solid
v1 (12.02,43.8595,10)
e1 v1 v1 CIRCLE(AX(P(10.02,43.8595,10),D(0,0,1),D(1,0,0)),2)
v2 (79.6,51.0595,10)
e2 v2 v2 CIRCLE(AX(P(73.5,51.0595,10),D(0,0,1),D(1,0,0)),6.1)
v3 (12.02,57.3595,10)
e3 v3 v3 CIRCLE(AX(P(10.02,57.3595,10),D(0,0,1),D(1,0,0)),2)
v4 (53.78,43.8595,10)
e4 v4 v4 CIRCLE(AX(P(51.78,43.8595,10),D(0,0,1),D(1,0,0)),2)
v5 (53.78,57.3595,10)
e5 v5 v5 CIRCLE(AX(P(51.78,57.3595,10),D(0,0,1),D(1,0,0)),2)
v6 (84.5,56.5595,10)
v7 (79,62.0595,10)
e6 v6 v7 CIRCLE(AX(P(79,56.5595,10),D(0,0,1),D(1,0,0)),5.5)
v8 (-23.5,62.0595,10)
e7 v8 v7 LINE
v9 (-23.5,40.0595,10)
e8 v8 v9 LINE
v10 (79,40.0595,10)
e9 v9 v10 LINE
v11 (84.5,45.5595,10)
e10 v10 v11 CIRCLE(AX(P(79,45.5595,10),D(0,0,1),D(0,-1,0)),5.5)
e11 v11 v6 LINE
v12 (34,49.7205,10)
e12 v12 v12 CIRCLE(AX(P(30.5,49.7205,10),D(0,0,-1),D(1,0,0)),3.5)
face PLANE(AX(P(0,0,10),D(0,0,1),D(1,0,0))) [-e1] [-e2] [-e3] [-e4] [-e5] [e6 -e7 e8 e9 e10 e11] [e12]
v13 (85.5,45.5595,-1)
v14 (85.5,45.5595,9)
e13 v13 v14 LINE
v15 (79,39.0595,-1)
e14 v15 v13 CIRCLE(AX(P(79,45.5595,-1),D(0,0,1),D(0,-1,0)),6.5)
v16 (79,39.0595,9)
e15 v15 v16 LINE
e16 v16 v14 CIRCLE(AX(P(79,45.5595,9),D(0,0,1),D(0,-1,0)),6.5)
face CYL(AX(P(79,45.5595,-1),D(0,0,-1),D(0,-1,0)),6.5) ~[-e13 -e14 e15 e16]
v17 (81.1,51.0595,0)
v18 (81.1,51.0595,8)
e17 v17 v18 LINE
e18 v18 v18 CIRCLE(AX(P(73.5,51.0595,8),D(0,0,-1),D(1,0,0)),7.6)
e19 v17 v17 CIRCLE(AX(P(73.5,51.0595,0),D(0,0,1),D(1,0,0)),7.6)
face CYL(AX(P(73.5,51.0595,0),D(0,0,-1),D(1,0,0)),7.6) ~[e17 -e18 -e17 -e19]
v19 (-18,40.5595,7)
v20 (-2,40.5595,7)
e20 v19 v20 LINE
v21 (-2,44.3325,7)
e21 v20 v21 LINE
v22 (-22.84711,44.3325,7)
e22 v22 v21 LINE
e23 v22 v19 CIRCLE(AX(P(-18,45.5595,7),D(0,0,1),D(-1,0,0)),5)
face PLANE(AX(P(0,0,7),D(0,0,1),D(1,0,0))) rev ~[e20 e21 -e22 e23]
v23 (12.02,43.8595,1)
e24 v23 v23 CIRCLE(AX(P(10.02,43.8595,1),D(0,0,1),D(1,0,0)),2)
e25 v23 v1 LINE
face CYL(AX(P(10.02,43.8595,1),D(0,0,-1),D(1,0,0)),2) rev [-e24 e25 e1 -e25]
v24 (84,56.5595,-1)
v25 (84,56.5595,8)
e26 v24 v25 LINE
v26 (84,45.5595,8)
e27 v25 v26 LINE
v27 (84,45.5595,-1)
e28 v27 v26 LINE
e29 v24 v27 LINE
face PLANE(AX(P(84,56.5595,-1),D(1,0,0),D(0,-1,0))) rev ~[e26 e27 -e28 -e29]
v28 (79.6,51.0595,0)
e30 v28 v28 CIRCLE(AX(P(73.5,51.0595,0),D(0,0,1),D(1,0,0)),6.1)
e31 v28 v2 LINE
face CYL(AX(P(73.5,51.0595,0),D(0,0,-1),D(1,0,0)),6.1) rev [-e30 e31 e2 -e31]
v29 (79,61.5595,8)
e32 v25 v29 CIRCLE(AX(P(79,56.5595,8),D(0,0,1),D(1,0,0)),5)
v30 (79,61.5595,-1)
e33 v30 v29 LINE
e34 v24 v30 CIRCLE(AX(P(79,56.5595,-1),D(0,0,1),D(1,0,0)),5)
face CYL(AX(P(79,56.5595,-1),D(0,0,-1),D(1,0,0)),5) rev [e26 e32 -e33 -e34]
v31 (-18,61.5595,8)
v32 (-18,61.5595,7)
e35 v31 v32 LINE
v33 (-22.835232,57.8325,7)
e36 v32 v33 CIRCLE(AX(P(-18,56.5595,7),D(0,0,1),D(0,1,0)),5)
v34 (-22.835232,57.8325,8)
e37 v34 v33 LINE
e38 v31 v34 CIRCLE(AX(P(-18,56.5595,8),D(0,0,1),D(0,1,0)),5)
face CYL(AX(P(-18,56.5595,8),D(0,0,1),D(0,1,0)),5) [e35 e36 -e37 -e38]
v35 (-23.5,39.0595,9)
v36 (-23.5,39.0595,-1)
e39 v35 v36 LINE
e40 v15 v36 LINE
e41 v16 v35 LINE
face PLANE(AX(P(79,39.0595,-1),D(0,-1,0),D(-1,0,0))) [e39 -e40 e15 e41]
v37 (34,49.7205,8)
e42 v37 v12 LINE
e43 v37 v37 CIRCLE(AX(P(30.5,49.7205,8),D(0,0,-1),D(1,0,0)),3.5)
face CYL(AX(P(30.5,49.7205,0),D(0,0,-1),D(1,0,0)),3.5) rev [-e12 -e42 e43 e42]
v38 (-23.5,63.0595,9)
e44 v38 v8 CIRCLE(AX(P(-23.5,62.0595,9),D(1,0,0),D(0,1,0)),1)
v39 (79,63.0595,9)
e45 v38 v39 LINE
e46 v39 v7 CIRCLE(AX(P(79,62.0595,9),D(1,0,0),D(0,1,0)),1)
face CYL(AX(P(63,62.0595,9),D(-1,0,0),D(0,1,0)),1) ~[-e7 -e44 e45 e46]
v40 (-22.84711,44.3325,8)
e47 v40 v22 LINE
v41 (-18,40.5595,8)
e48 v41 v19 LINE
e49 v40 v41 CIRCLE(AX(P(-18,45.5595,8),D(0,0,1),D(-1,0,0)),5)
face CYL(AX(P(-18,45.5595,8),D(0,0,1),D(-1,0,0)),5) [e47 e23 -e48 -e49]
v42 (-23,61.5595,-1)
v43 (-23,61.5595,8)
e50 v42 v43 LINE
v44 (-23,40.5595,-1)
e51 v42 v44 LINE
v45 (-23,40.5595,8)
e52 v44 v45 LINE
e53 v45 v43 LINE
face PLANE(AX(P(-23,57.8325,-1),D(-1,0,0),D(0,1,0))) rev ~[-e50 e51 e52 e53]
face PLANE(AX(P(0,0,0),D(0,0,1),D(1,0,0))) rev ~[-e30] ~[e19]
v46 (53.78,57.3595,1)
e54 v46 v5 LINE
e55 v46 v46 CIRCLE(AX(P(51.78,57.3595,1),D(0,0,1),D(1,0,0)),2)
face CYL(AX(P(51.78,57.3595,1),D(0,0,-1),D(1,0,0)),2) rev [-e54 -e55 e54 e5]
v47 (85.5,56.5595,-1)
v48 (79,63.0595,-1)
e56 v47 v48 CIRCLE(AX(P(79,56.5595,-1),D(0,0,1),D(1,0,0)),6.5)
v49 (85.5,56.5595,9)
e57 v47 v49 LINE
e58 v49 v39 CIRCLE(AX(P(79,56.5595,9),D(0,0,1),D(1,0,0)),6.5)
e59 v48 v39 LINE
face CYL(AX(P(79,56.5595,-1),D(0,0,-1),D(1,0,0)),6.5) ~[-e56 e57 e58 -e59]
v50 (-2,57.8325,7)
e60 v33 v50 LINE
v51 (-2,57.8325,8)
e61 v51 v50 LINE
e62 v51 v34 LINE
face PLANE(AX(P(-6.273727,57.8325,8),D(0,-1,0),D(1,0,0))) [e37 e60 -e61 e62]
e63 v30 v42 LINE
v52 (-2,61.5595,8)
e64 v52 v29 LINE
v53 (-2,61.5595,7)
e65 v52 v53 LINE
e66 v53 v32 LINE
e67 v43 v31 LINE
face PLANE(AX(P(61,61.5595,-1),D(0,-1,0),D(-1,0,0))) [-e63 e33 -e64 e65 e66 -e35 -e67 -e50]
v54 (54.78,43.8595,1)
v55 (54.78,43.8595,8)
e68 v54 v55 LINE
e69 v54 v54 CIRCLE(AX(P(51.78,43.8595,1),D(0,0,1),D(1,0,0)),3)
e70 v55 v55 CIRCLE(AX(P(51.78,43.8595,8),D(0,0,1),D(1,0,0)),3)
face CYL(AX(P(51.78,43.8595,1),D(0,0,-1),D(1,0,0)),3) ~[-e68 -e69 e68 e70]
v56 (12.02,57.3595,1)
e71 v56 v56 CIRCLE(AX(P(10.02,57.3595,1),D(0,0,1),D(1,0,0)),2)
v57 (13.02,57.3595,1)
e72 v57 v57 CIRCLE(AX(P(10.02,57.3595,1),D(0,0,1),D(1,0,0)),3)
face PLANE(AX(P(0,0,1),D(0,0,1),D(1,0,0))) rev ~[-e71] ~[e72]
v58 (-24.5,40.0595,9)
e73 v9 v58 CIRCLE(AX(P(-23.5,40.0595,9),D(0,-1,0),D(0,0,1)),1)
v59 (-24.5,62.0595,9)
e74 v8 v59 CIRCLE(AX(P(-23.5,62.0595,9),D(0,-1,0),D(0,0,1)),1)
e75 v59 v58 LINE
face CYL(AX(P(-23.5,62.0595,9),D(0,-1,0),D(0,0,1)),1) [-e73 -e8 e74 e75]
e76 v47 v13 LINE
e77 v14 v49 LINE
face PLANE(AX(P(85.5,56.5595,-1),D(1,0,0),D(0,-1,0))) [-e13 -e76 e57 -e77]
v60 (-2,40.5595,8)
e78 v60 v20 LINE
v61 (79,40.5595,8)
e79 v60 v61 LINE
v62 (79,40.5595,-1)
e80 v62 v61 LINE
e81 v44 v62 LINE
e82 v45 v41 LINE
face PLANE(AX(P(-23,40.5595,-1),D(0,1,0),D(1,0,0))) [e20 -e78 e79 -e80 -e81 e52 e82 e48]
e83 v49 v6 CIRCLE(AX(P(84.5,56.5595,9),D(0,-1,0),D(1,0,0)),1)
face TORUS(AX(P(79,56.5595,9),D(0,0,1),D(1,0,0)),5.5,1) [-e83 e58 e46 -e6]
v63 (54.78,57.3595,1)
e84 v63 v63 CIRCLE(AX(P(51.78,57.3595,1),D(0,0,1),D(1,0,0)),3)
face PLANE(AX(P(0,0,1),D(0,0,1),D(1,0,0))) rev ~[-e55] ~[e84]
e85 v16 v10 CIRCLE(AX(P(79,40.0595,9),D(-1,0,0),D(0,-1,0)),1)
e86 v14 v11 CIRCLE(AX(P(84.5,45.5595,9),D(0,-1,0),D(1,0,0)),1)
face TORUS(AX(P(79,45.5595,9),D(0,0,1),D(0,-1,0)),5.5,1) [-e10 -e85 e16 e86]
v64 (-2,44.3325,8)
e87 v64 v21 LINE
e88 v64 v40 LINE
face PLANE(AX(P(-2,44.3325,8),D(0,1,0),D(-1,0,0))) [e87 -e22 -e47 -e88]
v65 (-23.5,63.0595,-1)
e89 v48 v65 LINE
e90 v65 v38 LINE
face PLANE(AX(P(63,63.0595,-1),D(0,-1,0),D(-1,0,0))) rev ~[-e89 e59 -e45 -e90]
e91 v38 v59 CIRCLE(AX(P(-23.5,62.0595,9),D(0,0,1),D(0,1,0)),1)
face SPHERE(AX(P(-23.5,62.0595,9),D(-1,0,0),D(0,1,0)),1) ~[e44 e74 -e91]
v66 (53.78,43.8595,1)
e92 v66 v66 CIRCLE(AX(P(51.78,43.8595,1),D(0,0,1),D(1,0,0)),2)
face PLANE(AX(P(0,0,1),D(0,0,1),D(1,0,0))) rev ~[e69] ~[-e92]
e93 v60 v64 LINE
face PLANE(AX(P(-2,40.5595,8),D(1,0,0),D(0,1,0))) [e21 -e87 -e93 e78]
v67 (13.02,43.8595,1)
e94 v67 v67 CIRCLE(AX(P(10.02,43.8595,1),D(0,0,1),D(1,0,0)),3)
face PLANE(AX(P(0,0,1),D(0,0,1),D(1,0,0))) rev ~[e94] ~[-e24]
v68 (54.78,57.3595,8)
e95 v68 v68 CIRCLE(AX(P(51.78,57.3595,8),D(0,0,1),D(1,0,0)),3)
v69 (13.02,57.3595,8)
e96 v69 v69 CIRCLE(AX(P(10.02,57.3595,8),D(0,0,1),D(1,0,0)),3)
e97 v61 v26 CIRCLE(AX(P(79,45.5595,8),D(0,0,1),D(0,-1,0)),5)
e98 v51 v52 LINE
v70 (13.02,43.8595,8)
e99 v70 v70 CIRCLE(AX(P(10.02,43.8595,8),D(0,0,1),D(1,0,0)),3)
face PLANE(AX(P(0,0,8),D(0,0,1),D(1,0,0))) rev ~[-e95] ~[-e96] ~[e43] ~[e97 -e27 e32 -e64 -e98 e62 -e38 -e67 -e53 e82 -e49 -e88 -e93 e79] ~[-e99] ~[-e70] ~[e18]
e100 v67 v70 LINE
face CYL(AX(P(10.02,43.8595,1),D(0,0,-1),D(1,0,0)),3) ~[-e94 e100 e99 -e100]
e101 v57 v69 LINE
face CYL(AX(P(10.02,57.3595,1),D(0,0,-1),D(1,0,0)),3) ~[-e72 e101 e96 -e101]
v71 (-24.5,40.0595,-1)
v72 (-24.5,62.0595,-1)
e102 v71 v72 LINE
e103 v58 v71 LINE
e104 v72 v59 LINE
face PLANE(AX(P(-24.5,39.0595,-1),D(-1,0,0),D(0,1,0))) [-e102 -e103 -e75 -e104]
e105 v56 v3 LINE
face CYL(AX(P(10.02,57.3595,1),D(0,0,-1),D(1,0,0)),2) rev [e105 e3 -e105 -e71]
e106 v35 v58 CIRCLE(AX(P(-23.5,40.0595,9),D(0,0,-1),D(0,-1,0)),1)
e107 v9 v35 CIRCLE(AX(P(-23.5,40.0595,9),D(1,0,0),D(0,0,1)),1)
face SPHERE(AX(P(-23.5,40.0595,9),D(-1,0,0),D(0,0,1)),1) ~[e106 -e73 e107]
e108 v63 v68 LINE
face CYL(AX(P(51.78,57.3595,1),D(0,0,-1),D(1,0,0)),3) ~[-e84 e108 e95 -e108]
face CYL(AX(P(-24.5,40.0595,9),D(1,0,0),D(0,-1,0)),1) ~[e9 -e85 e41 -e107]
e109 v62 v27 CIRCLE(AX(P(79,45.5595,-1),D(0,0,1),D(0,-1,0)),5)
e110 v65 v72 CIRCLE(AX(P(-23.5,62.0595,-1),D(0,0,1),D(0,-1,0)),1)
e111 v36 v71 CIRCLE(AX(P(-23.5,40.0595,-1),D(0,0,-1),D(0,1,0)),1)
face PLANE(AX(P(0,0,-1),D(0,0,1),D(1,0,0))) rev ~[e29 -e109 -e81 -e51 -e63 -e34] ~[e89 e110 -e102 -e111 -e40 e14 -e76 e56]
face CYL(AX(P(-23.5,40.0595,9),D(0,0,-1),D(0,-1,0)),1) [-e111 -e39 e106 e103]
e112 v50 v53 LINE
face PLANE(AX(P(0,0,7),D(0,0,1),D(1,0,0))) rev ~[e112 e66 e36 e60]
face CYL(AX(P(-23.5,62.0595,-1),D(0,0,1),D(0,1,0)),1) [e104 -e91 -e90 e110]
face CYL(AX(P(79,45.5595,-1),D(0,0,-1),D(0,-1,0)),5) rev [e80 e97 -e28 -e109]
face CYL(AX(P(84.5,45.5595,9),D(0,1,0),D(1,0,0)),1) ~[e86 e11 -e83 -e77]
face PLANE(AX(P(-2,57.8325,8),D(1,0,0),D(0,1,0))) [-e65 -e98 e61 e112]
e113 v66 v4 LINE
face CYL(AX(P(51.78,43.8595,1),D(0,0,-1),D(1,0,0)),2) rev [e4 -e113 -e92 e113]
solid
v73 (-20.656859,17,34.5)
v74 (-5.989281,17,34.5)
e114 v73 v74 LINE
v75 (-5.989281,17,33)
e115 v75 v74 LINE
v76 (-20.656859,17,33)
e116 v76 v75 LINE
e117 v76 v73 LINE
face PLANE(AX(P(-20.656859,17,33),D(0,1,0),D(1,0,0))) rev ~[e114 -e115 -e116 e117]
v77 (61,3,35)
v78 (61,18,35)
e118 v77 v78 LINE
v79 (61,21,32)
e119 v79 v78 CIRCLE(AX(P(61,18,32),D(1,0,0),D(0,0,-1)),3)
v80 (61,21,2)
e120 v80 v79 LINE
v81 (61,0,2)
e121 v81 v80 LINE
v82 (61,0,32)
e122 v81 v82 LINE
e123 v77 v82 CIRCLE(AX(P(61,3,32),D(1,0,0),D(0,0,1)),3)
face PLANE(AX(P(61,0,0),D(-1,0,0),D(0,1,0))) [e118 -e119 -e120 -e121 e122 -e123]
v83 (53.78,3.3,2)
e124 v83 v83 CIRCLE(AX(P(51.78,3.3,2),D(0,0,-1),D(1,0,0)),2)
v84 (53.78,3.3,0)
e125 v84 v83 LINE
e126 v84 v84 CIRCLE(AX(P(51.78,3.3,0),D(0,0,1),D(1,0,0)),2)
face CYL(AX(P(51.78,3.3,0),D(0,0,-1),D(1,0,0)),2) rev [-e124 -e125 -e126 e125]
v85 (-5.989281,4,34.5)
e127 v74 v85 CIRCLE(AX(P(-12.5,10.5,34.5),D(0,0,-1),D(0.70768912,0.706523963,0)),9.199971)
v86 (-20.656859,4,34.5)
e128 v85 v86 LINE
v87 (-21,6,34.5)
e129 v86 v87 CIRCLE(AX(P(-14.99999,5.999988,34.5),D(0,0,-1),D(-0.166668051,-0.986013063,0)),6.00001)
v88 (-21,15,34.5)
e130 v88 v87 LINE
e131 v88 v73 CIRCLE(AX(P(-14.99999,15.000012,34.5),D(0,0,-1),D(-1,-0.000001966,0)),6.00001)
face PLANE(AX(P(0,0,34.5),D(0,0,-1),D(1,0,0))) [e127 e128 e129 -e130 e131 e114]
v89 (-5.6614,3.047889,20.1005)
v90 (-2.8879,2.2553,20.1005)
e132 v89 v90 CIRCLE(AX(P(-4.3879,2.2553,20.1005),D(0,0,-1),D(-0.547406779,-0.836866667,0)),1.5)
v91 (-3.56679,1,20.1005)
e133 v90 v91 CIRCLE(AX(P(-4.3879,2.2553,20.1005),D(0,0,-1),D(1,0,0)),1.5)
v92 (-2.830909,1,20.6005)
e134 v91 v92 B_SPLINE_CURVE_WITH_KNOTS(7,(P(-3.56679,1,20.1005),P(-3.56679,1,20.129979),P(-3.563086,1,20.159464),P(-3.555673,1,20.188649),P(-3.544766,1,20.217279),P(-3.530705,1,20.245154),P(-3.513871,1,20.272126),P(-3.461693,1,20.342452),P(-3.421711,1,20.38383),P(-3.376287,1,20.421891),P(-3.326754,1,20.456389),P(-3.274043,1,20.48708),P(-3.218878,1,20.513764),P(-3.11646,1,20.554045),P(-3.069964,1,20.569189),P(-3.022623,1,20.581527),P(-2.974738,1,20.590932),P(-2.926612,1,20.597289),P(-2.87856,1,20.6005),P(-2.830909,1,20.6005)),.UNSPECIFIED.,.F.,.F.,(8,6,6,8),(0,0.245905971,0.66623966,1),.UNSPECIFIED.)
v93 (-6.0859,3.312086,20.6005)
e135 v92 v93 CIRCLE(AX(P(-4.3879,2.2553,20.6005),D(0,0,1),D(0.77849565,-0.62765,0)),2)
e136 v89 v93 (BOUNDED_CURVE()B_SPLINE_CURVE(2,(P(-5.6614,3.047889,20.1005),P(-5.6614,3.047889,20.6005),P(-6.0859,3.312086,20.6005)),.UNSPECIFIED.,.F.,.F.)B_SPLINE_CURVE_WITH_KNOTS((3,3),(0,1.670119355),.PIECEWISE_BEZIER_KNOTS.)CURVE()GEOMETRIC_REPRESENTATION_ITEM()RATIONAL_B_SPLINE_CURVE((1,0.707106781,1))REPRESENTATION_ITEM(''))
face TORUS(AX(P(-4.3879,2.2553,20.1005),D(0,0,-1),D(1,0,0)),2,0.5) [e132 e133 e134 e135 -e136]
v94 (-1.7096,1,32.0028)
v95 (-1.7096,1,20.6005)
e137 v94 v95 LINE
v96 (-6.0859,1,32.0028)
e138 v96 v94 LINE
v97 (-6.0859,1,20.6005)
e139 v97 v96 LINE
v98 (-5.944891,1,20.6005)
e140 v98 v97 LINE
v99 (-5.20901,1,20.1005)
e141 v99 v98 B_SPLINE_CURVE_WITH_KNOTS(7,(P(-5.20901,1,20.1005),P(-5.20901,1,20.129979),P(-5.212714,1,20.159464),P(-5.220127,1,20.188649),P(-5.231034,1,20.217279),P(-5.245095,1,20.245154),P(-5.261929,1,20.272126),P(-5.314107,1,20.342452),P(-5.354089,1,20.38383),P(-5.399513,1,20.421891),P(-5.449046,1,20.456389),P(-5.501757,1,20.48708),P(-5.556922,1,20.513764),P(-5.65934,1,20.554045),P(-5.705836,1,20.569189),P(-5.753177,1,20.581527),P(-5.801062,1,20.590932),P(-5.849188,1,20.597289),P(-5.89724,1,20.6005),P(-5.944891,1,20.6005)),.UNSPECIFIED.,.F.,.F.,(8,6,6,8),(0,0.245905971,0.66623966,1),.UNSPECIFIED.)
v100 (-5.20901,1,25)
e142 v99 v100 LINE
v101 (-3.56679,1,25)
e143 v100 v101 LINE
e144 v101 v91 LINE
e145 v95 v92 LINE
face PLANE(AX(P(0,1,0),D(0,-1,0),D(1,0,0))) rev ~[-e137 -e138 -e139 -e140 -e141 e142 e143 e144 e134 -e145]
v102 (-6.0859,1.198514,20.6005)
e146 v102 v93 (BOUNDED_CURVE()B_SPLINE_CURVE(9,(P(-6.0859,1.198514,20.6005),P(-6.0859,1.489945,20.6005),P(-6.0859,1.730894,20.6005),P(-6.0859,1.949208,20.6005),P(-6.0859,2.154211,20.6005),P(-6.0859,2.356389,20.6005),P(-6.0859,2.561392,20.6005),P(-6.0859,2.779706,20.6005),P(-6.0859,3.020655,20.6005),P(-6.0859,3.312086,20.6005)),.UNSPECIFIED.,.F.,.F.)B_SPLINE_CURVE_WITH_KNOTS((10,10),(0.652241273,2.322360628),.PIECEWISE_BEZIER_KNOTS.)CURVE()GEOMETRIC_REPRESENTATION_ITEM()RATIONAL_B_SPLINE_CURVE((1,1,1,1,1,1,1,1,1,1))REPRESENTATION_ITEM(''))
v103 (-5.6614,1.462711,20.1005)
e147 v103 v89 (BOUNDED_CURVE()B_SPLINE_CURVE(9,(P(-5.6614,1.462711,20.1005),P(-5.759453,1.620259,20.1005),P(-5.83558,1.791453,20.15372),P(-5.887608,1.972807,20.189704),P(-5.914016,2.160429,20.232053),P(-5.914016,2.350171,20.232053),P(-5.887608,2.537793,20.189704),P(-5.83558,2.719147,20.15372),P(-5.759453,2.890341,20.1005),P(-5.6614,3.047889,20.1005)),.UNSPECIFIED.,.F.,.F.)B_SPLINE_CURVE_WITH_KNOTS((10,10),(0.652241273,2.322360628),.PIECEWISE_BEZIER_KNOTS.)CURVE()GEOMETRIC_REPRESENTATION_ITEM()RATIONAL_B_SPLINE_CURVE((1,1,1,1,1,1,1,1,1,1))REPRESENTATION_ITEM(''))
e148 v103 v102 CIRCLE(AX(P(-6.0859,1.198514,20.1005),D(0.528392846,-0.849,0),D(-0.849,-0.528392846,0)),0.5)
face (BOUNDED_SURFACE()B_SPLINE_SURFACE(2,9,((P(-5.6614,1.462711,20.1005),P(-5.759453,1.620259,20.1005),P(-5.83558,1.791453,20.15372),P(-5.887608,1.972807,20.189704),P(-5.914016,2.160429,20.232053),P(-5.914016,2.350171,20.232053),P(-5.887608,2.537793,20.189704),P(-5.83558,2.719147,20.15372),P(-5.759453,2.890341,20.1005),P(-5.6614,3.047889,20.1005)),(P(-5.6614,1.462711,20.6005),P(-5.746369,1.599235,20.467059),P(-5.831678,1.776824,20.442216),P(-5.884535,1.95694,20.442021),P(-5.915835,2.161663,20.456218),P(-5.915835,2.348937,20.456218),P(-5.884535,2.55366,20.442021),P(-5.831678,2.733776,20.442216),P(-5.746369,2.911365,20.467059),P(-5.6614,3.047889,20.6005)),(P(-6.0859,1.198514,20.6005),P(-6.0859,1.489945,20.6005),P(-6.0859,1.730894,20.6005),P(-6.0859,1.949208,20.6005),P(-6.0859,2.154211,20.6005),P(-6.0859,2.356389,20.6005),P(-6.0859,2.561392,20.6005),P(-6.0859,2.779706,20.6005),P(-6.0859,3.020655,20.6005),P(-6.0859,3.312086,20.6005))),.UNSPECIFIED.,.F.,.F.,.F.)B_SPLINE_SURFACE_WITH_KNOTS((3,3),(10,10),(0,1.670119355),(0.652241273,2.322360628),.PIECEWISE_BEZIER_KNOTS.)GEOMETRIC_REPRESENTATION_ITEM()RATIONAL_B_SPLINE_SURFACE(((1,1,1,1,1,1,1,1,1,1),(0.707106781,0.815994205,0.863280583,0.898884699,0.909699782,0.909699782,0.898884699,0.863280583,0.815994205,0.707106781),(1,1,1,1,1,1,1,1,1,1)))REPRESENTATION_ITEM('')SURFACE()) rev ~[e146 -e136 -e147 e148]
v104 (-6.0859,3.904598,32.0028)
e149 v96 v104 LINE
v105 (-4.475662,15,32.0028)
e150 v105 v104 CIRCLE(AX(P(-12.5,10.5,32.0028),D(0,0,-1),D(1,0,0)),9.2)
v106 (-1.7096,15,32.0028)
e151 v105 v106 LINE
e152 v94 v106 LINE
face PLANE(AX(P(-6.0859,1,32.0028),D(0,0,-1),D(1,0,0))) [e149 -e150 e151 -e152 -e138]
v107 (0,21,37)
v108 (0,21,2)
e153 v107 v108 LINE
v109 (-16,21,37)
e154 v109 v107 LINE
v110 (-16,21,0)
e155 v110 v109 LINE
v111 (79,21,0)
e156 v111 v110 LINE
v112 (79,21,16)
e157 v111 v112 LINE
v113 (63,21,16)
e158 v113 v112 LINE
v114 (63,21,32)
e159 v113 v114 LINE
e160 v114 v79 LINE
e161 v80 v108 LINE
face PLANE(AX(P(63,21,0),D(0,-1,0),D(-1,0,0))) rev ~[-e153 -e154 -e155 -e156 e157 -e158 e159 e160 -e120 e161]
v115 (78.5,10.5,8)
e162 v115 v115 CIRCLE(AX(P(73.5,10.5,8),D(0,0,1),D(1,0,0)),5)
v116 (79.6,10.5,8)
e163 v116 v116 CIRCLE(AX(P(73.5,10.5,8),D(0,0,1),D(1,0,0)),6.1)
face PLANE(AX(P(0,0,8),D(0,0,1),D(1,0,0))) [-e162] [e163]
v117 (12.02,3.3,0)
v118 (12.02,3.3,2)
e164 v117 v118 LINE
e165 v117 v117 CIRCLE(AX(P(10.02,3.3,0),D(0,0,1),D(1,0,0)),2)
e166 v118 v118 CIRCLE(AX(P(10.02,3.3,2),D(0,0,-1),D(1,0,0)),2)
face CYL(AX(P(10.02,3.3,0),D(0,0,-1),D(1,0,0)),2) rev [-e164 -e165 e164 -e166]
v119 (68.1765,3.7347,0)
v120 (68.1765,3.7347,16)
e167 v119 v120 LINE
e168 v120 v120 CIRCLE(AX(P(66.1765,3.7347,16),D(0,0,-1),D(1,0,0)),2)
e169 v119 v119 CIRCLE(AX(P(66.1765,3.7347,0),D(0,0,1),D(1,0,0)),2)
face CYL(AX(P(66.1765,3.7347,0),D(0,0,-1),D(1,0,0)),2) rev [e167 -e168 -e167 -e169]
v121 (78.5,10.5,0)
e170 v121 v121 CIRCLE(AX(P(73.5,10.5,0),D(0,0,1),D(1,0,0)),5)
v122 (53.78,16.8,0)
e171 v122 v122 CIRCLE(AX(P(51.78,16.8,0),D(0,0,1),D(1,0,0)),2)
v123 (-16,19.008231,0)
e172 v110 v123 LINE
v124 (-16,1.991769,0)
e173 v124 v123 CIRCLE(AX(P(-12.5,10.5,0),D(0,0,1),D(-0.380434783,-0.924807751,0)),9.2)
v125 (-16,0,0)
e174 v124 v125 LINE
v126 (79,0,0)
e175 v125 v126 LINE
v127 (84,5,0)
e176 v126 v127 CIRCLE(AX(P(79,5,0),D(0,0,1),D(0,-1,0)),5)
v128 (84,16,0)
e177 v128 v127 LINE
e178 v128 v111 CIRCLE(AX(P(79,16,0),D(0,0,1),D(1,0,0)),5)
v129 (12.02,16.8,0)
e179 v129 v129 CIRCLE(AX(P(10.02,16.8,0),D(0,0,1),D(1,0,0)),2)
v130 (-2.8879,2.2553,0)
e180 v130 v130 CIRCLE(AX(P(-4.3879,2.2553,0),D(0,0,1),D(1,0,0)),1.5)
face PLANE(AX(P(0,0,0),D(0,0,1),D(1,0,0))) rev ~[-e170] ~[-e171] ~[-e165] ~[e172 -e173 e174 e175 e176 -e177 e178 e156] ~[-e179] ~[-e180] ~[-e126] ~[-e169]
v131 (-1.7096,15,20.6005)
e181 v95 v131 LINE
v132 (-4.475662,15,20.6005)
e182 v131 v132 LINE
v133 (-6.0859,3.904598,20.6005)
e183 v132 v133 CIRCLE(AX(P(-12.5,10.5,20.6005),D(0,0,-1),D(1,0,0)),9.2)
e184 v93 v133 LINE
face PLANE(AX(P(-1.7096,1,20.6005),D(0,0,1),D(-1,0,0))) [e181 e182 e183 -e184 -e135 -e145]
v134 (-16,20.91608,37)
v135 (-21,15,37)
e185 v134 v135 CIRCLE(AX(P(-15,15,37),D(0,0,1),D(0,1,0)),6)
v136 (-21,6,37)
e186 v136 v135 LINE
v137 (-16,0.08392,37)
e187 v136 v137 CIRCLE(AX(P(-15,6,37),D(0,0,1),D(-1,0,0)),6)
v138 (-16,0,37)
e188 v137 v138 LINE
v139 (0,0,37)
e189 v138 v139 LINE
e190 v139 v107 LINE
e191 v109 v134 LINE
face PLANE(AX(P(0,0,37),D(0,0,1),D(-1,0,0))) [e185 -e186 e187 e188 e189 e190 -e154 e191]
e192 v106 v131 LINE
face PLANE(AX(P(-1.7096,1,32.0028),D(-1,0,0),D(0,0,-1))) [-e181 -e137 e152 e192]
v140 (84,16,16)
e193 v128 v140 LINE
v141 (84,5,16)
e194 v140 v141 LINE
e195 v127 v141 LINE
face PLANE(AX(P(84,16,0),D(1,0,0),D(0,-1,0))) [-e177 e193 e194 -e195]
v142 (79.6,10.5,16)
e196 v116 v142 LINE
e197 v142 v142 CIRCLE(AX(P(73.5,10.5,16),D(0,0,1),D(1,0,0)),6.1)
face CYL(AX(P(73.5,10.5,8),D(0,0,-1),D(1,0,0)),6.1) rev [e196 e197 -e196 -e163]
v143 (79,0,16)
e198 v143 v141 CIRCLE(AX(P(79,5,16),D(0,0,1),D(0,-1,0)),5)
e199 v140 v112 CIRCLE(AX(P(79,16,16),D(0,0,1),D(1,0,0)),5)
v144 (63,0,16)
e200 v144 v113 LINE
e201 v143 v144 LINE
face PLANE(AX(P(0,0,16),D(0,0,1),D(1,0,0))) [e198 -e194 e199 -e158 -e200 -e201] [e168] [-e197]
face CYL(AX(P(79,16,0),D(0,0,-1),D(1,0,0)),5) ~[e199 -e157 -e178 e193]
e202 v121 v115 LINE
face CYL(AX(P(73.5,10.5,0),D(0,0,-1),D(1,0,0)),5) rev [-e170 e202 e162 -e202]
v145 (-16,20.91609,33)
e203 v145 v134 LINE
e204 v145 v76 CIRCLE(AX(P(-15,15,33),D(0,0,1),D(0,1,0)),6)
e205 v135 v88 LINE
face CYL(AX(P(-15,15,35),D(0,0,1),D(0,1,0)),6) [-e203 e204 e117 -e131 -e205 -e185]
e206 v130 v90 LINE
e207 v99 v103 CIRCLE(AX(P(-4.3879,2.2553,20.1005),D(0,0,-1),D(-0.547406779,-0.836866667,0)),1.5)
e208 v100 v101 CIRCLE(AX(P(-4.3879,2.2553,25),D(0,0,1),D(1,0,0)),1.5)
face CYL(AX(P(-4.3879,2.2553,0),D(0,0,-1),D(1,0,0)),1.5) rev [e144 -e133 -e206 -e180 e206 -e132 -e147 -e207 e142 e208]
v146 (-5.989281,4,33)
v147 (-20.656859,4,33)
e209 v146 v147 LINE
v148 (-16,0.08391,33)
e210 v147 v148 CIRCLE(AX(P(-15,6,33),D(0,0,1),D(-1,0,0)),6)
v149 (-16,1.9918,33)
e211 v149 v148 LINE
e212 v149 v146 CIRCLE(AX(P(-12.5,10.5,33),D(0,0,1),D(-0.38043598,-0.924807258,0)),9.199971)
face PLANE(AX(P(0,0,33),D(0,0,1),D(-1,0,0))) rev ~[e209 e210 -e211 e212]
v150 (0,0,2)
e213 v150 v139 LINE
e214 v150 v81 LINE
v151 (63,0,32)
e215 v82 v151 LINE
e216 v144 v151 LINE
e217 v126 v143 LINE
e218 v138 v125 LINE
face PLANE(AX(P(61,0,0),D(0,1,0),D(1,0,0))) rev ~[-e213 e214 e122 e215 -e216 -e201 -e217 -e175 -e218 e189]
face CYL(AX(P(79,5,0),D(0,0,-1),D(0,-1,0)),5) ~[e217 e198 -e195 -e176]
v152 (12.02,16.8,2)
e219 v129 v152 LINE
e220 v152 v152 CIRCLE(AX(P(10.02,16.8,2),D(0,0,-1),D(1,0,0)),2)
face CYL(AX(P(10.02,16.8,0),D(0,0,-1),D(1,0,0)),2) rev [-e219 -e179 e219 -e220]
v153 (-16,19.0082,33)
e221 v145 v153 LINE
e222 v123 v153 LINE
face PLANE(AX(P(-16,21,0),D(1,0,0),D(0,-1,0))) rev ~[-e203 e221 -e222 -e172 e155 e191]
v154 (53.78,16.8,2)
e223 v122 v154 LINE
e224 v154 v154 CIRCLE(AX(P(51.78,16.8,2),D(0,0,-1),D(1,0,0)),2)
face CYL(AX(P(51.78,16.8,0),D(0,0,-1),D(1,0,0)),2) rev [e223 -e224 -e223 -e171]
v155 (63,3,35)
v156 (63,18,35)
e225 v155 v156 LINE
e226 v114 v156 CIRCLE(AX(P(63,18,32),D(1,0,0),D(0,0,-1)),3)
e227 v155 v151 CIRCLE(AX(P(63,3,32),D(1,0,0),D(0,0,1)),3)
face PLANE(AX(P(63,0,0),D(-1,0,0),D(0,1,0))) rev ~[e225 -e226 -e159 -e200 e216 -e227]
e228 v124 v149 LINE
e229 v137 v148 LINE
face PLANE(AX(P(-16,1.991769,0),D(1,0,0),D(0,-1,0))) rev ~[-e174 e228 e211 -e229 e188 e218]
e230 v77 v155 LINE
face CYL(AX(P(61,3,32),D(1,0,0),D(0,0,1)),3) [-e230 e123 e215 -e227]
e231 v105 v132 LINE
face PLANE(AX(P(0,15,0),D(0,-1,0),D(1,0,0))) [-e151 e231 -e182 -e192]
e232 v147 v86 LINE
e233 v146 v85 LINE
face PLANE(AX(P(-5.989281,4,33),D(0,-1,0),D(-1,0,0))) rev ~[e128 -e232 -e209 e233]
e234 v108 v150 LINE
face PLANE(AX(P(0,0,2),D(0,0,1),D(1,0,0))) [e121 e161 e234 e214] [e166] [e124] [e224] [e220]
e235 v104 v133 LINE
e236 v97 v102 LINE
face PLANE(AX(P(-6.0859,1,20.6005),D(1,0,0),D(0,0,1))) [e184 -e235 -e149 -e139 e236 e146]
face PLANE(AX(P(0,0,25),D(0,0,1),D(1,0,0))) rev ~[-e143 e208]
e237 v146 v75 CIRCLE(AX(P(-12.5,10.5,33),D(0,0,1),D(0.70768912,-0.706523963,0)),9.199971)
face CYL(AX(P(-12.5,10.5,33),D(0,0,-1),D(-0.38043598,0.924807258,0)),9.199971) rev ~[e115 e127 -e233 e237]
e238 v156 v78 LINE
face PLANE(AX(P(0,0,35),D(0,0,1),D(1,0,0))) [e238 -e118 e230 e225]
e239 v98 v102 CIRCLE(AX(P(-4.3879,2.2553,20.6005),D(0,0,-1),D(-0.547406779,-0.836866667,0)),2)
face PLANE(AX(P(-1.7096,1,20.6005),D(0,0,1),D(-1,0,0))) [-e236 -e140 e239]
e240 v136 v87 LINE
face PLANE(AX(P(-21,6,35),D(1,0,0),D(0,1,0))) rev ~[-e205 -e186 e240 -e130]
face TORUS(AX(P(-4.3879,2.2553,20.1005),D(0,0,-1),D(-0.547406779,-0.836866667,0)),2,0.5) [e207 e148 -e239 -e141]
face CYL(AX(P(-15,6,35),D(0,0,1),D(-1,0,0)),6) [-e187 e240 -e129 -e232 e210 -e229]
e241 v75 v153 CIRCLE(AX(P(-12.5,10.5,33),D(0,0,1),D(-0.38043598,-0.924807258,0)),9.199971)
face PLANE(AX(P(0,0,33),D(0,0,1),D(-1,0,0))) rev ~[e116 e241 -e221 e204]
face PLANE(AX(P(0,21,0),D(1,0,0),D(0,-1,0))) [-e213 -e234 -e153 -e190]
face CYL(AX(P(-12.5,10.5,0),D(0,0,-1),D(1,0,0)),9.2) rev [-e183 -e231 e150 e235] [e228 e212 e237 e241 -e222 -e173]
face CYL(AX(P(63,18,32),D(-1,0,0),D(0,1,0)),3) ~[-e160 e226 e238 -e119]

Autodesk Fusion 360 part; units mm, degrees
sketch "Sketch1" plane through (0, 0, 0) normal (0, 0, 1) x (1, 0, 0)
  line L0 (0, 0) -> (61, 0)
  line L1 (61, 0) -> (61, 21)
  line L2 (61, 21) -> (0, 21)
  line L3 (0, 21) -> (0, 0)
  line L4 (61, 0) -> (63, 0)
  line L5 (63, 0) -> (63, 21)
  line L6 (63, 21) -> (61, 21)
  line L7 (61, 21) -> (61, 0)
  line L8 (0, 21) -> (-2, 21)
  line L9 (-2, 21) -> (-2, 0)
  line L10 (-2, 0) -> (0, 0)
  line L11 (0, 0) -> (0, 21)
  line L12 (-2, 21) -> (-23, 21)
  line L13 (-23, 21) -> (-23, 0)
  line L14 (-23, 0) -> (-2, 0)
  line L15 (-2, 0) -> (-2, 21)
  line L16 (-12.5, 21) -> (-12.5, -1.4858) construction
  line L17 (-23, 10.5) -> (-2, 10.5) construction
  circle A0 centre (-12.5, 10.5) radius 9.2
  line L18 (-23, 21) -> (-16, 21)
  line L19 (-16, 21) -> (-16, 0)
  line L20 (-16, 0) -> (-23, 0)
  line L21 (-23, 0) -> (-23, 21)
  line L22 (63, 21) -> (79, 21)
  line L23 (84, 16) -> (84, 5)
  line L24 (79, 0) -> (63, 0)
  line L25 (63, 0) -> (63, 21)
  line L26 (73.5, 21) -> (73.5, 0) construction
  line L27 (63, 10.5) -> (84, 10.5) construction
  circle A1 centre (73.5, 10.5) radius 5
  circle A2 centre (73.5, 10.5) radius 6.1
  arc A3 (84, 16) -> (79, 21) centre (79, 16) ccw
  arc A4 (79, 0) -> (84, 5) centre (79, 5) ccw
  circle A5 centre (-4.3879, 2.2553) radius 1.5
  circle A6 centre (66.1765, 3.7347) radius 2
  line L28 (0, 3.3) -> (61, 3.3) construction
  line L29 (0, 16.8) -> (61, 16.8) construction
  line L30 (10.02, 0) -> (10.02, 21) construction
  line L31 (51.78, 0) -> (51.78, 21) construction
  circle A7 centre (10.02, 3.3) radius 2
  circle A8 centre (51.78, 3.3) radius 2
  circle A9 centre (10.02, 16.8) radius 2
  circle A10 centre (51.78, 16.8) radius 2
  point P0 (84, 21)
  dimension "d1" = 61
  dimension "d2" = 21
  dimension "d3" = 2
  dimension "d4" = 2
  dimension "d5" = 21
  dimension "d6" = 21
  dimension "d7" = 21
  dimension "d8" = 18.4
  dimension "d9" = 7
  dimension "d10" = 21
  dimension "d11" = 21
  dimension "d12" = 21
  dimension "d13" = 10
  dimension "d14" = 12.2
  dimension "d15" = 5
  dimension "d35" = 3
  dimension "d38" = 4
  dimension "d44" = 3.3
  dimension "d45" = 9.22
  dimension "d46" = 41.76
  dimension "d47" = 13.5
  dimension "d48" = 4
  dimension "d49" = 4
  dimension "d50" = 4
  dimension "d51" = 4
extrude "Extrude1" add sketch "Sketch1" along normal blind 2 contours L0 L1 L2 L3 L7 L11 | A7 | A8 | A9 | A10 makes body 1
extrude "Extrude2" add sketch "Sketch1" along normal blind 35 contours L3 L8 L9 L10 L11 L15 | L9 L12 L14 L15 A0 L19 | A5 bodies 1
extrude "Extrude3" add sketch "Sketch1" along normal blind 35 contours L1 L4 L5 L6 L7 L25 bodies 1
extrude "Extrude4" add sketch "Sketch1" along normal blind 16 contours L5 L22 L23 L24 L25 A3 A4 | A2 | A6 bodies 1
extrude "Extrude5" cut sketch "Sketch1" along normal blind 8 from surface at 8 contours A2 bodies 1
sketch "Sketch2" plane through (0, 0, 35) normal (0, 0, 1) x (-1, 0, 0)
  line L0 (16, -1.9918) -> (16, 0)
  line L1 (16, 0) -> (0, 0)
  line L2 (0, 0) -> (0, -21)
  line L3 (0, -21) -> (16, -21)
  line L4 (16, -21) -> (16, -19.0082)
  arc A0 (16, -1.9918) -> (16, -19.0082) centre (12.5, -10.5) ccw
  line L5 (0, 0) -> (15, 0)
  line L6 (21, -6) -> (21, -15)
  line L7 (15, -21) -> (0, -21)
  line L8 (0, -21) -> (0, 0)
  arc A1 (21, -6) -> (15, 0) centre (15, -6) ccw
  arc A2 (15, -21) -> (21, -15) centre (15, -15) ccw
  point P0 (21, 0)
  dimension "d27" = 21
  dimension "d28" = 21
  dimension "d29" = 6
  dimension "d30" = 6
extrude "Extrude7" add sketch "Sketch2" along normal blind 2 bodies 1
extrude "Extrude8" cut sketch "Sketch1" along normal blind 25 contours A5 bodies 1
extrude "Extrude9" cut sketch "Sketch1" along normal blind 30 contours A6 bodies 1
sketch "Sketch3" plane through (0, 0, 0) normal (0, -1, 0) x (1, 0, 0)
  line L0 (-16, 0) -> (79, 0)
  line L1 (79, 0) -> (79, 16)
  line L2 (79, 16) -> (63, 16)
  line L3 (63, 16) -> (63, 35)
  line L4 (63, 35) -> (61, 35)
  line L5 (61, 35) -> (61, 2)
  line L6 (61, 2) -> (0, 2)
  line L7 (0, 2) -> (0, 37)
  line L8 (0, 37) -> (-16, 37)
  line L9 (-16, 37) -> (-16, 0)
  line L10 (-1.7096, 20.6005) -> (-6.0859, 20.6005)
  line L11 (-6.0859, 20.6005) -> (-6.0859, 32.0028)
  line L12 (-6.0859, 32.0028) -> (-1.7096, 32.0028)
  line L13 (-1.7096, 32.0028) -> (-1.7096, 20.6005)
extrude "Extrude10" cut sketch "Sketch3" against normal blind 14 from surface at -1 contours L10 L11 L12 L13 bodies 1
extrude "Extrude11" cut sketch "Sketch1" along normal blind 3 contours A7 | A8 | A9 | A10 bodies 1
fillet "Fillet1" radius 0.5 1 edges at (-4.3879, 3.7553, 20.6005) on bodies 1
extrude "Extrude12" add sketch "Sketch2" against normal blind 2 contours L0 L4 A0 L6 A1 A2 bodies 1
sketch "Sketch4" plane through (0, 0, 33) normal (0, 0, -1) x (1, 0, 0)
  arc A0 (-16, -0.0839) -> (-21, -6) centre (-15, -6) ccw
  line L0 (-21, -6) -> (-21, -15)
  arc A1 (-21, -15) -> (-16, -20.9161) centre (-15, -15) ccw
  line L1 (-16, -20.9161) -> (-16, -19.0082)
  arc A2 (-16, -19.0082) -> (-16, -1.9918) centre (-12.5, -10.5) ccw
  line L2 (-16, -1.9918) -> (-16, -0.0839)
  line L3 (-21, -10.5) -> (-3.3, -10.5) construction
  line L4 (-2.6492, -14) -> (-39.3508, -14)
  line L5 (-39.3508, -14) -> (-39.3508, -7)
  line L6 (-39.3508, -7) -> (-2.6492, -7)
  line L7 (-2.6492, -7) -> (-2.6492, -14)
  line L8 (-2.6492, -14) -> (-39.3508, -7) construction
  line L9 (-39.3508, -14) -> (-2.6492, -7) construction
  line L10 (-2.1646, -4) -> (-39.8354, -4)
  line L11 (-39.8354, -4) -> (-39.8354, -17)
  line L12 (-39.8354, -17) -> (-2.1646, -17)
  line L13 (-2.1646, -17) -> (-2.1646, -4)
  line L14 (-2.1646, -4) -> (-39.8354, -17) construction
  line L15 (-39.8354, -4) -> (-2.1646, -17) construction
  point P0 (-21, -10.5)
  point P1 (-21, -10.5)
  dimension "d59" = 7
  dimension "d70" = 13
extrude "Extrude23" cut sketch "Sketch4" against normal blind 1.5 contours A0 L0 A2 L6 L10 | L0 A2 L4 L6 | L0 A1 A2 L4 L12 bodies 1
fillet "Fillet4" radius 3 1 edges at (62, 21, 35) on bodies 1
fillet "Fillet5" radius 3 1 edges at (62, 0, 35) on bodies 1
extrude "Extrude14" add sketch "Sketch4" against normal blind 1.5 contours A0 A2 L2 L10 | A1 L1 A2 L12 bodies 1
sketch "Sketch5" plane through (0, 0, 0) normal (0, 0, 1) x (1, 0, 0)
  line L0 (61, 61.5595) -> (0, 61.5595)
  line L1 (0, 61.5595) -> (-2, 61.5595)
  line L2 (10.02, 40.5595) -> (10.02, 61.5595) construction
  arc A0 (84, 56.5595) -> (79, 61.5595) centre (79, 56.5595) ccw
  line L3 (-23, 40.5595) -> (-23, 61.5595)
  line L4 (84, 56.5595) -> (84, 45.5595)
  circle A1 centre (51.78, 57.3595) radius 2
  line L5 (-2, 40.5595) -> (-2, 61.5595)
  line L6 (63, 51.0595) -> (84, 51.0595) construction
  line L7 (-23, 56.5595) -> (-23, 45.5595)
  line L8 (-23, 51.0595) -> (-2, 51.0595) construction
  circle A2 centre (66.1765, 43.7347) radius 2
  line L9 (-18, 61.5595) -> (-16, 61.5595)
  line L10 (-2, 61.5595) -> (-23, 61.5595)
  circle A3 centre (-12.5, 51.0595) radius 9.2
  line L11 (63, 40.5595) -> (63, 61.5595)
  circle A4 centre (10.02, 57.3595) radius 2
  line L12 (63, 40.5595) -> (63, 61.5595)
  line L13 (-2, 61.5595) -> (-2, 40.5595)
  line L14 (79, 40.5595) -> (63, 40.5595)
  line L15 (0, 61.5595) -> (0, 40.5595)
  line L16 (-2, 40.5595) -> (0, 40.5595)
  line L17 (0, 40.5595) -> (0, 61.5595)
  line L18 (0, 43.8595) -> (61, 43.8595) construction
  line L19 (0, 40.5595) -> (61, 40.5595)
  line L20 (0, 57.3595) -> (61, 57.3595) construction
  arc A5 (79, 40.5595) -> (84, 45.5595) centre (79, 45.5595) ccw
  line L21 (51.78, 40.5595) -> (51.78, 61.5595) construction
  line L22 (-23, 40.5595) -> (-2, 40.5595)
  line L23 (-12.5, 61.5595) -> (-12.5, 38.5142) construction
  line L24 (61, 61.5595) -> (61, 40.5595)
  line L25 (61, 40.5595) -> (63, 40.5595)
  line L26 (73.5, 61.5595) -> (73.5, 40.5595) construction
  circle A6 centre (51.78, 43.8595) radius 2
  line L27 (63, 61.5595) -> (61, 61.5595)
  line L28 (63, 61.5595) -> (79, 61.5595)
  circle A7 centre (73.5, 51.0595) radius 6
  circle A8 centre (-4.3879, 42.2553) radius 1.5
  line L29 (-16, 40.5595) -> (-18, 40.5595)
  circle A9 centre (10.02, 43.8595) radius 2
  line L30 (61, 40.5595) -> (61, 61.5595)
  circle A10 centre (73.5, 51.0595) radius 6.1
  line L31 (-16, 61.5595) -> (-16, 40.5595)
  arc A11 (-18, 61.5595) -> (-23, 56.5595) centre (-18, 56.5595) ccw
  arc A12 (-23, 45.5595) -> (-18, 40.5595) centre (-18, 45.5595) ccw
  line L32 (61, 63.0595) -> (0, 63.0595)
  line L33 (0, 63.0595) -> (-2, 63.0595)
  line L34 (-2, 63.0595) -> (-24.5, 63.0595)
  line L35 (-24.5, 39.0595) -> (-24.5, 63.0595)
  line L36 (-24.5, 39.0595) -> (-2, 39.0595)
  line L37 (-2, 39.0595) -> (0, 39.0595)
  line L38 (0, 39.0595) -> (61, 39.0595)
  line L39 (61, 39.0595) -> (63, 39.0595)
  line L40 (79, 39.0595) -> (63, 39.0595)
  arc A13 (79, 39.0595) -> (85.5, 45.5595) centre (79, 45.5595) ccw
  line L41 (85.5, 56.5595) -> (85.5, 45.5595)
  arc A14 (85.5, 56.5595) -> (79, 63.0595) centre (79, 56.5595) ccw
  line L42 (63, 63.0595) -> (79, 63.0595)
  line L43 (63, 63.0595) -> (61, 63.0595)
  circle A15 centre (51.78, 43.8595) radius 3
  circle A16 centre (10.02, 43.8595) radius 3
  circle A17 centre (10.02, 57.3595) radius 3
  circle A18 centre (51.78, 57.3595) radius 3
  circle A19 centre (73.5, 51.0595) radius 7.6
  circle A20 centre (30.5, 49.7205) radius 3.5
  line L44 (-23, 57.8325) -> (-2, 57.8325)
  line L45 (-2, 44.3325) -> (-23, 44.3325)
  point P0 (0, 40.5595)
  point P1 (84, 61.5595)
  dimension "d73" = 61
  dimension "d74" = 21
  dimension "d75" = 2
  dimension "d76" = 2
  dimension "d77" = 21
  dimension "d78" = 21
  dimension "d79" = 21
  dimension "d80" = 18.4
  dimension "d81" = 7
  dimension "d82" = 21
  dimension "d83" = 21
  dimension "d84" = 21
  dimension "d85" = 12
  dimension "d86" = 12.2
  dimension "d87" = 5
  dimension "d88" = 3
  dimension "d89" = 4
  dimension "d90" = 3.3
  dimension "d91" = 9.22
  dimension "d92" = 41.76
  dimension "d93" = 13.5
  dimension "d94" = 4
  dimension "d95" = 4
  dimension "d96" = 4
  dimension "d97" = 4
  dimension "d98" = 5
  dimension "d99" = 5
  dimension "d100" = -1.5
  dimension "d105" = 1
  dimension "d106" = 1
  dimension "d107" = 1
  dimension "d108" = 1
  dimension "d121" = 1.5
  dimension "d124" = 7
  dimension "d129" = 13.5
extrude "Extrude15" add sketch "Sketch5" along normal blind 11 from surface at -1 separate body contours L32 L33 L34 L35 L36 L37 L38 L39 L40 A13 L41 A14 L42 L43 makes body 2
extrude "Extrude18" add sketch "Sketch5" along normal blind 2 from surface at 8 separate body contours L0 L15 L17 L19 L24 L30 | L11 L12 L24 L25 L27 L30 | L1 L5 L13 L15 L16 L17 | A0 L4 L11 L12 L14 A5 L28 | L5 L10 A3 L13 L31 L44 | L5 A3 L13 L44 L45 | L9 L10 A3 L31 A11 L44 | L5 A3 L13 L22 L31 L45 | A3 L31 L44 | A3 L31 L44 L45 | L3 L10 A11 L44 | A3 L31 L44 | A3 L22 L29 L31 A12 L45 | A3 L31 L45 | A3 L31 L44 L45 | L3 L7 A3 A11 A12 L44 L45 | L3 A11 L44 | L3 L22 A12 L45 | A3 L31 L45 | L3 A12 L45 | A2 | A8 | A19 | A20 makes body 3
fillet "Fillet7" radius 1 5 edges at (27.25, 39.0595, 10) (83.5962, 40.9633, 10) (85.5, 51.0595, 10) (83.5962, 61.1556, 10) (27.25, 63.0595, 10) on bodies 2
fillet "Fillet8" radius 1 5 edges at (-24.5, 63.0595, 4) (-24.5, 62.7666, 9.7071) (-24.5, 51.0595, 10) (-24.5, 39.3523, 9.7071) (-24.5, 39.0595, 4) on bodies 2
extrude "Extrude19" add sketch "Sketch5" along normal blind 10 contours A19 bodies 3
extrude "Extrude20" cut sketch "Sketch5" along normal blind 30 contours A20 bodies 3
extrude "Extrude21" add sketch "Sketch5" against normal blind 1 from surface at 8 contours L5 A3 L13 L22 L31 L45 | A3 L22 L29 L31 A12 L45 | A3 L31 L45 | A3 L31 L45 | A8 bodies 2 3
extrude "Extrude22" add sketch "Sketch5" against normal blind 1 from surface at 8 contours L5 L10 A3 L13 L31 L44 | L9 L10 A3 L31 A11 L44 | A3 L31 L44 | A3 L31 L44 bodies 2
extrude "Extrude24" add sketch "Sketch5" along normal blind 9 from surface at 1 contours A15 | A16 | A17 | A18 bodies 2
